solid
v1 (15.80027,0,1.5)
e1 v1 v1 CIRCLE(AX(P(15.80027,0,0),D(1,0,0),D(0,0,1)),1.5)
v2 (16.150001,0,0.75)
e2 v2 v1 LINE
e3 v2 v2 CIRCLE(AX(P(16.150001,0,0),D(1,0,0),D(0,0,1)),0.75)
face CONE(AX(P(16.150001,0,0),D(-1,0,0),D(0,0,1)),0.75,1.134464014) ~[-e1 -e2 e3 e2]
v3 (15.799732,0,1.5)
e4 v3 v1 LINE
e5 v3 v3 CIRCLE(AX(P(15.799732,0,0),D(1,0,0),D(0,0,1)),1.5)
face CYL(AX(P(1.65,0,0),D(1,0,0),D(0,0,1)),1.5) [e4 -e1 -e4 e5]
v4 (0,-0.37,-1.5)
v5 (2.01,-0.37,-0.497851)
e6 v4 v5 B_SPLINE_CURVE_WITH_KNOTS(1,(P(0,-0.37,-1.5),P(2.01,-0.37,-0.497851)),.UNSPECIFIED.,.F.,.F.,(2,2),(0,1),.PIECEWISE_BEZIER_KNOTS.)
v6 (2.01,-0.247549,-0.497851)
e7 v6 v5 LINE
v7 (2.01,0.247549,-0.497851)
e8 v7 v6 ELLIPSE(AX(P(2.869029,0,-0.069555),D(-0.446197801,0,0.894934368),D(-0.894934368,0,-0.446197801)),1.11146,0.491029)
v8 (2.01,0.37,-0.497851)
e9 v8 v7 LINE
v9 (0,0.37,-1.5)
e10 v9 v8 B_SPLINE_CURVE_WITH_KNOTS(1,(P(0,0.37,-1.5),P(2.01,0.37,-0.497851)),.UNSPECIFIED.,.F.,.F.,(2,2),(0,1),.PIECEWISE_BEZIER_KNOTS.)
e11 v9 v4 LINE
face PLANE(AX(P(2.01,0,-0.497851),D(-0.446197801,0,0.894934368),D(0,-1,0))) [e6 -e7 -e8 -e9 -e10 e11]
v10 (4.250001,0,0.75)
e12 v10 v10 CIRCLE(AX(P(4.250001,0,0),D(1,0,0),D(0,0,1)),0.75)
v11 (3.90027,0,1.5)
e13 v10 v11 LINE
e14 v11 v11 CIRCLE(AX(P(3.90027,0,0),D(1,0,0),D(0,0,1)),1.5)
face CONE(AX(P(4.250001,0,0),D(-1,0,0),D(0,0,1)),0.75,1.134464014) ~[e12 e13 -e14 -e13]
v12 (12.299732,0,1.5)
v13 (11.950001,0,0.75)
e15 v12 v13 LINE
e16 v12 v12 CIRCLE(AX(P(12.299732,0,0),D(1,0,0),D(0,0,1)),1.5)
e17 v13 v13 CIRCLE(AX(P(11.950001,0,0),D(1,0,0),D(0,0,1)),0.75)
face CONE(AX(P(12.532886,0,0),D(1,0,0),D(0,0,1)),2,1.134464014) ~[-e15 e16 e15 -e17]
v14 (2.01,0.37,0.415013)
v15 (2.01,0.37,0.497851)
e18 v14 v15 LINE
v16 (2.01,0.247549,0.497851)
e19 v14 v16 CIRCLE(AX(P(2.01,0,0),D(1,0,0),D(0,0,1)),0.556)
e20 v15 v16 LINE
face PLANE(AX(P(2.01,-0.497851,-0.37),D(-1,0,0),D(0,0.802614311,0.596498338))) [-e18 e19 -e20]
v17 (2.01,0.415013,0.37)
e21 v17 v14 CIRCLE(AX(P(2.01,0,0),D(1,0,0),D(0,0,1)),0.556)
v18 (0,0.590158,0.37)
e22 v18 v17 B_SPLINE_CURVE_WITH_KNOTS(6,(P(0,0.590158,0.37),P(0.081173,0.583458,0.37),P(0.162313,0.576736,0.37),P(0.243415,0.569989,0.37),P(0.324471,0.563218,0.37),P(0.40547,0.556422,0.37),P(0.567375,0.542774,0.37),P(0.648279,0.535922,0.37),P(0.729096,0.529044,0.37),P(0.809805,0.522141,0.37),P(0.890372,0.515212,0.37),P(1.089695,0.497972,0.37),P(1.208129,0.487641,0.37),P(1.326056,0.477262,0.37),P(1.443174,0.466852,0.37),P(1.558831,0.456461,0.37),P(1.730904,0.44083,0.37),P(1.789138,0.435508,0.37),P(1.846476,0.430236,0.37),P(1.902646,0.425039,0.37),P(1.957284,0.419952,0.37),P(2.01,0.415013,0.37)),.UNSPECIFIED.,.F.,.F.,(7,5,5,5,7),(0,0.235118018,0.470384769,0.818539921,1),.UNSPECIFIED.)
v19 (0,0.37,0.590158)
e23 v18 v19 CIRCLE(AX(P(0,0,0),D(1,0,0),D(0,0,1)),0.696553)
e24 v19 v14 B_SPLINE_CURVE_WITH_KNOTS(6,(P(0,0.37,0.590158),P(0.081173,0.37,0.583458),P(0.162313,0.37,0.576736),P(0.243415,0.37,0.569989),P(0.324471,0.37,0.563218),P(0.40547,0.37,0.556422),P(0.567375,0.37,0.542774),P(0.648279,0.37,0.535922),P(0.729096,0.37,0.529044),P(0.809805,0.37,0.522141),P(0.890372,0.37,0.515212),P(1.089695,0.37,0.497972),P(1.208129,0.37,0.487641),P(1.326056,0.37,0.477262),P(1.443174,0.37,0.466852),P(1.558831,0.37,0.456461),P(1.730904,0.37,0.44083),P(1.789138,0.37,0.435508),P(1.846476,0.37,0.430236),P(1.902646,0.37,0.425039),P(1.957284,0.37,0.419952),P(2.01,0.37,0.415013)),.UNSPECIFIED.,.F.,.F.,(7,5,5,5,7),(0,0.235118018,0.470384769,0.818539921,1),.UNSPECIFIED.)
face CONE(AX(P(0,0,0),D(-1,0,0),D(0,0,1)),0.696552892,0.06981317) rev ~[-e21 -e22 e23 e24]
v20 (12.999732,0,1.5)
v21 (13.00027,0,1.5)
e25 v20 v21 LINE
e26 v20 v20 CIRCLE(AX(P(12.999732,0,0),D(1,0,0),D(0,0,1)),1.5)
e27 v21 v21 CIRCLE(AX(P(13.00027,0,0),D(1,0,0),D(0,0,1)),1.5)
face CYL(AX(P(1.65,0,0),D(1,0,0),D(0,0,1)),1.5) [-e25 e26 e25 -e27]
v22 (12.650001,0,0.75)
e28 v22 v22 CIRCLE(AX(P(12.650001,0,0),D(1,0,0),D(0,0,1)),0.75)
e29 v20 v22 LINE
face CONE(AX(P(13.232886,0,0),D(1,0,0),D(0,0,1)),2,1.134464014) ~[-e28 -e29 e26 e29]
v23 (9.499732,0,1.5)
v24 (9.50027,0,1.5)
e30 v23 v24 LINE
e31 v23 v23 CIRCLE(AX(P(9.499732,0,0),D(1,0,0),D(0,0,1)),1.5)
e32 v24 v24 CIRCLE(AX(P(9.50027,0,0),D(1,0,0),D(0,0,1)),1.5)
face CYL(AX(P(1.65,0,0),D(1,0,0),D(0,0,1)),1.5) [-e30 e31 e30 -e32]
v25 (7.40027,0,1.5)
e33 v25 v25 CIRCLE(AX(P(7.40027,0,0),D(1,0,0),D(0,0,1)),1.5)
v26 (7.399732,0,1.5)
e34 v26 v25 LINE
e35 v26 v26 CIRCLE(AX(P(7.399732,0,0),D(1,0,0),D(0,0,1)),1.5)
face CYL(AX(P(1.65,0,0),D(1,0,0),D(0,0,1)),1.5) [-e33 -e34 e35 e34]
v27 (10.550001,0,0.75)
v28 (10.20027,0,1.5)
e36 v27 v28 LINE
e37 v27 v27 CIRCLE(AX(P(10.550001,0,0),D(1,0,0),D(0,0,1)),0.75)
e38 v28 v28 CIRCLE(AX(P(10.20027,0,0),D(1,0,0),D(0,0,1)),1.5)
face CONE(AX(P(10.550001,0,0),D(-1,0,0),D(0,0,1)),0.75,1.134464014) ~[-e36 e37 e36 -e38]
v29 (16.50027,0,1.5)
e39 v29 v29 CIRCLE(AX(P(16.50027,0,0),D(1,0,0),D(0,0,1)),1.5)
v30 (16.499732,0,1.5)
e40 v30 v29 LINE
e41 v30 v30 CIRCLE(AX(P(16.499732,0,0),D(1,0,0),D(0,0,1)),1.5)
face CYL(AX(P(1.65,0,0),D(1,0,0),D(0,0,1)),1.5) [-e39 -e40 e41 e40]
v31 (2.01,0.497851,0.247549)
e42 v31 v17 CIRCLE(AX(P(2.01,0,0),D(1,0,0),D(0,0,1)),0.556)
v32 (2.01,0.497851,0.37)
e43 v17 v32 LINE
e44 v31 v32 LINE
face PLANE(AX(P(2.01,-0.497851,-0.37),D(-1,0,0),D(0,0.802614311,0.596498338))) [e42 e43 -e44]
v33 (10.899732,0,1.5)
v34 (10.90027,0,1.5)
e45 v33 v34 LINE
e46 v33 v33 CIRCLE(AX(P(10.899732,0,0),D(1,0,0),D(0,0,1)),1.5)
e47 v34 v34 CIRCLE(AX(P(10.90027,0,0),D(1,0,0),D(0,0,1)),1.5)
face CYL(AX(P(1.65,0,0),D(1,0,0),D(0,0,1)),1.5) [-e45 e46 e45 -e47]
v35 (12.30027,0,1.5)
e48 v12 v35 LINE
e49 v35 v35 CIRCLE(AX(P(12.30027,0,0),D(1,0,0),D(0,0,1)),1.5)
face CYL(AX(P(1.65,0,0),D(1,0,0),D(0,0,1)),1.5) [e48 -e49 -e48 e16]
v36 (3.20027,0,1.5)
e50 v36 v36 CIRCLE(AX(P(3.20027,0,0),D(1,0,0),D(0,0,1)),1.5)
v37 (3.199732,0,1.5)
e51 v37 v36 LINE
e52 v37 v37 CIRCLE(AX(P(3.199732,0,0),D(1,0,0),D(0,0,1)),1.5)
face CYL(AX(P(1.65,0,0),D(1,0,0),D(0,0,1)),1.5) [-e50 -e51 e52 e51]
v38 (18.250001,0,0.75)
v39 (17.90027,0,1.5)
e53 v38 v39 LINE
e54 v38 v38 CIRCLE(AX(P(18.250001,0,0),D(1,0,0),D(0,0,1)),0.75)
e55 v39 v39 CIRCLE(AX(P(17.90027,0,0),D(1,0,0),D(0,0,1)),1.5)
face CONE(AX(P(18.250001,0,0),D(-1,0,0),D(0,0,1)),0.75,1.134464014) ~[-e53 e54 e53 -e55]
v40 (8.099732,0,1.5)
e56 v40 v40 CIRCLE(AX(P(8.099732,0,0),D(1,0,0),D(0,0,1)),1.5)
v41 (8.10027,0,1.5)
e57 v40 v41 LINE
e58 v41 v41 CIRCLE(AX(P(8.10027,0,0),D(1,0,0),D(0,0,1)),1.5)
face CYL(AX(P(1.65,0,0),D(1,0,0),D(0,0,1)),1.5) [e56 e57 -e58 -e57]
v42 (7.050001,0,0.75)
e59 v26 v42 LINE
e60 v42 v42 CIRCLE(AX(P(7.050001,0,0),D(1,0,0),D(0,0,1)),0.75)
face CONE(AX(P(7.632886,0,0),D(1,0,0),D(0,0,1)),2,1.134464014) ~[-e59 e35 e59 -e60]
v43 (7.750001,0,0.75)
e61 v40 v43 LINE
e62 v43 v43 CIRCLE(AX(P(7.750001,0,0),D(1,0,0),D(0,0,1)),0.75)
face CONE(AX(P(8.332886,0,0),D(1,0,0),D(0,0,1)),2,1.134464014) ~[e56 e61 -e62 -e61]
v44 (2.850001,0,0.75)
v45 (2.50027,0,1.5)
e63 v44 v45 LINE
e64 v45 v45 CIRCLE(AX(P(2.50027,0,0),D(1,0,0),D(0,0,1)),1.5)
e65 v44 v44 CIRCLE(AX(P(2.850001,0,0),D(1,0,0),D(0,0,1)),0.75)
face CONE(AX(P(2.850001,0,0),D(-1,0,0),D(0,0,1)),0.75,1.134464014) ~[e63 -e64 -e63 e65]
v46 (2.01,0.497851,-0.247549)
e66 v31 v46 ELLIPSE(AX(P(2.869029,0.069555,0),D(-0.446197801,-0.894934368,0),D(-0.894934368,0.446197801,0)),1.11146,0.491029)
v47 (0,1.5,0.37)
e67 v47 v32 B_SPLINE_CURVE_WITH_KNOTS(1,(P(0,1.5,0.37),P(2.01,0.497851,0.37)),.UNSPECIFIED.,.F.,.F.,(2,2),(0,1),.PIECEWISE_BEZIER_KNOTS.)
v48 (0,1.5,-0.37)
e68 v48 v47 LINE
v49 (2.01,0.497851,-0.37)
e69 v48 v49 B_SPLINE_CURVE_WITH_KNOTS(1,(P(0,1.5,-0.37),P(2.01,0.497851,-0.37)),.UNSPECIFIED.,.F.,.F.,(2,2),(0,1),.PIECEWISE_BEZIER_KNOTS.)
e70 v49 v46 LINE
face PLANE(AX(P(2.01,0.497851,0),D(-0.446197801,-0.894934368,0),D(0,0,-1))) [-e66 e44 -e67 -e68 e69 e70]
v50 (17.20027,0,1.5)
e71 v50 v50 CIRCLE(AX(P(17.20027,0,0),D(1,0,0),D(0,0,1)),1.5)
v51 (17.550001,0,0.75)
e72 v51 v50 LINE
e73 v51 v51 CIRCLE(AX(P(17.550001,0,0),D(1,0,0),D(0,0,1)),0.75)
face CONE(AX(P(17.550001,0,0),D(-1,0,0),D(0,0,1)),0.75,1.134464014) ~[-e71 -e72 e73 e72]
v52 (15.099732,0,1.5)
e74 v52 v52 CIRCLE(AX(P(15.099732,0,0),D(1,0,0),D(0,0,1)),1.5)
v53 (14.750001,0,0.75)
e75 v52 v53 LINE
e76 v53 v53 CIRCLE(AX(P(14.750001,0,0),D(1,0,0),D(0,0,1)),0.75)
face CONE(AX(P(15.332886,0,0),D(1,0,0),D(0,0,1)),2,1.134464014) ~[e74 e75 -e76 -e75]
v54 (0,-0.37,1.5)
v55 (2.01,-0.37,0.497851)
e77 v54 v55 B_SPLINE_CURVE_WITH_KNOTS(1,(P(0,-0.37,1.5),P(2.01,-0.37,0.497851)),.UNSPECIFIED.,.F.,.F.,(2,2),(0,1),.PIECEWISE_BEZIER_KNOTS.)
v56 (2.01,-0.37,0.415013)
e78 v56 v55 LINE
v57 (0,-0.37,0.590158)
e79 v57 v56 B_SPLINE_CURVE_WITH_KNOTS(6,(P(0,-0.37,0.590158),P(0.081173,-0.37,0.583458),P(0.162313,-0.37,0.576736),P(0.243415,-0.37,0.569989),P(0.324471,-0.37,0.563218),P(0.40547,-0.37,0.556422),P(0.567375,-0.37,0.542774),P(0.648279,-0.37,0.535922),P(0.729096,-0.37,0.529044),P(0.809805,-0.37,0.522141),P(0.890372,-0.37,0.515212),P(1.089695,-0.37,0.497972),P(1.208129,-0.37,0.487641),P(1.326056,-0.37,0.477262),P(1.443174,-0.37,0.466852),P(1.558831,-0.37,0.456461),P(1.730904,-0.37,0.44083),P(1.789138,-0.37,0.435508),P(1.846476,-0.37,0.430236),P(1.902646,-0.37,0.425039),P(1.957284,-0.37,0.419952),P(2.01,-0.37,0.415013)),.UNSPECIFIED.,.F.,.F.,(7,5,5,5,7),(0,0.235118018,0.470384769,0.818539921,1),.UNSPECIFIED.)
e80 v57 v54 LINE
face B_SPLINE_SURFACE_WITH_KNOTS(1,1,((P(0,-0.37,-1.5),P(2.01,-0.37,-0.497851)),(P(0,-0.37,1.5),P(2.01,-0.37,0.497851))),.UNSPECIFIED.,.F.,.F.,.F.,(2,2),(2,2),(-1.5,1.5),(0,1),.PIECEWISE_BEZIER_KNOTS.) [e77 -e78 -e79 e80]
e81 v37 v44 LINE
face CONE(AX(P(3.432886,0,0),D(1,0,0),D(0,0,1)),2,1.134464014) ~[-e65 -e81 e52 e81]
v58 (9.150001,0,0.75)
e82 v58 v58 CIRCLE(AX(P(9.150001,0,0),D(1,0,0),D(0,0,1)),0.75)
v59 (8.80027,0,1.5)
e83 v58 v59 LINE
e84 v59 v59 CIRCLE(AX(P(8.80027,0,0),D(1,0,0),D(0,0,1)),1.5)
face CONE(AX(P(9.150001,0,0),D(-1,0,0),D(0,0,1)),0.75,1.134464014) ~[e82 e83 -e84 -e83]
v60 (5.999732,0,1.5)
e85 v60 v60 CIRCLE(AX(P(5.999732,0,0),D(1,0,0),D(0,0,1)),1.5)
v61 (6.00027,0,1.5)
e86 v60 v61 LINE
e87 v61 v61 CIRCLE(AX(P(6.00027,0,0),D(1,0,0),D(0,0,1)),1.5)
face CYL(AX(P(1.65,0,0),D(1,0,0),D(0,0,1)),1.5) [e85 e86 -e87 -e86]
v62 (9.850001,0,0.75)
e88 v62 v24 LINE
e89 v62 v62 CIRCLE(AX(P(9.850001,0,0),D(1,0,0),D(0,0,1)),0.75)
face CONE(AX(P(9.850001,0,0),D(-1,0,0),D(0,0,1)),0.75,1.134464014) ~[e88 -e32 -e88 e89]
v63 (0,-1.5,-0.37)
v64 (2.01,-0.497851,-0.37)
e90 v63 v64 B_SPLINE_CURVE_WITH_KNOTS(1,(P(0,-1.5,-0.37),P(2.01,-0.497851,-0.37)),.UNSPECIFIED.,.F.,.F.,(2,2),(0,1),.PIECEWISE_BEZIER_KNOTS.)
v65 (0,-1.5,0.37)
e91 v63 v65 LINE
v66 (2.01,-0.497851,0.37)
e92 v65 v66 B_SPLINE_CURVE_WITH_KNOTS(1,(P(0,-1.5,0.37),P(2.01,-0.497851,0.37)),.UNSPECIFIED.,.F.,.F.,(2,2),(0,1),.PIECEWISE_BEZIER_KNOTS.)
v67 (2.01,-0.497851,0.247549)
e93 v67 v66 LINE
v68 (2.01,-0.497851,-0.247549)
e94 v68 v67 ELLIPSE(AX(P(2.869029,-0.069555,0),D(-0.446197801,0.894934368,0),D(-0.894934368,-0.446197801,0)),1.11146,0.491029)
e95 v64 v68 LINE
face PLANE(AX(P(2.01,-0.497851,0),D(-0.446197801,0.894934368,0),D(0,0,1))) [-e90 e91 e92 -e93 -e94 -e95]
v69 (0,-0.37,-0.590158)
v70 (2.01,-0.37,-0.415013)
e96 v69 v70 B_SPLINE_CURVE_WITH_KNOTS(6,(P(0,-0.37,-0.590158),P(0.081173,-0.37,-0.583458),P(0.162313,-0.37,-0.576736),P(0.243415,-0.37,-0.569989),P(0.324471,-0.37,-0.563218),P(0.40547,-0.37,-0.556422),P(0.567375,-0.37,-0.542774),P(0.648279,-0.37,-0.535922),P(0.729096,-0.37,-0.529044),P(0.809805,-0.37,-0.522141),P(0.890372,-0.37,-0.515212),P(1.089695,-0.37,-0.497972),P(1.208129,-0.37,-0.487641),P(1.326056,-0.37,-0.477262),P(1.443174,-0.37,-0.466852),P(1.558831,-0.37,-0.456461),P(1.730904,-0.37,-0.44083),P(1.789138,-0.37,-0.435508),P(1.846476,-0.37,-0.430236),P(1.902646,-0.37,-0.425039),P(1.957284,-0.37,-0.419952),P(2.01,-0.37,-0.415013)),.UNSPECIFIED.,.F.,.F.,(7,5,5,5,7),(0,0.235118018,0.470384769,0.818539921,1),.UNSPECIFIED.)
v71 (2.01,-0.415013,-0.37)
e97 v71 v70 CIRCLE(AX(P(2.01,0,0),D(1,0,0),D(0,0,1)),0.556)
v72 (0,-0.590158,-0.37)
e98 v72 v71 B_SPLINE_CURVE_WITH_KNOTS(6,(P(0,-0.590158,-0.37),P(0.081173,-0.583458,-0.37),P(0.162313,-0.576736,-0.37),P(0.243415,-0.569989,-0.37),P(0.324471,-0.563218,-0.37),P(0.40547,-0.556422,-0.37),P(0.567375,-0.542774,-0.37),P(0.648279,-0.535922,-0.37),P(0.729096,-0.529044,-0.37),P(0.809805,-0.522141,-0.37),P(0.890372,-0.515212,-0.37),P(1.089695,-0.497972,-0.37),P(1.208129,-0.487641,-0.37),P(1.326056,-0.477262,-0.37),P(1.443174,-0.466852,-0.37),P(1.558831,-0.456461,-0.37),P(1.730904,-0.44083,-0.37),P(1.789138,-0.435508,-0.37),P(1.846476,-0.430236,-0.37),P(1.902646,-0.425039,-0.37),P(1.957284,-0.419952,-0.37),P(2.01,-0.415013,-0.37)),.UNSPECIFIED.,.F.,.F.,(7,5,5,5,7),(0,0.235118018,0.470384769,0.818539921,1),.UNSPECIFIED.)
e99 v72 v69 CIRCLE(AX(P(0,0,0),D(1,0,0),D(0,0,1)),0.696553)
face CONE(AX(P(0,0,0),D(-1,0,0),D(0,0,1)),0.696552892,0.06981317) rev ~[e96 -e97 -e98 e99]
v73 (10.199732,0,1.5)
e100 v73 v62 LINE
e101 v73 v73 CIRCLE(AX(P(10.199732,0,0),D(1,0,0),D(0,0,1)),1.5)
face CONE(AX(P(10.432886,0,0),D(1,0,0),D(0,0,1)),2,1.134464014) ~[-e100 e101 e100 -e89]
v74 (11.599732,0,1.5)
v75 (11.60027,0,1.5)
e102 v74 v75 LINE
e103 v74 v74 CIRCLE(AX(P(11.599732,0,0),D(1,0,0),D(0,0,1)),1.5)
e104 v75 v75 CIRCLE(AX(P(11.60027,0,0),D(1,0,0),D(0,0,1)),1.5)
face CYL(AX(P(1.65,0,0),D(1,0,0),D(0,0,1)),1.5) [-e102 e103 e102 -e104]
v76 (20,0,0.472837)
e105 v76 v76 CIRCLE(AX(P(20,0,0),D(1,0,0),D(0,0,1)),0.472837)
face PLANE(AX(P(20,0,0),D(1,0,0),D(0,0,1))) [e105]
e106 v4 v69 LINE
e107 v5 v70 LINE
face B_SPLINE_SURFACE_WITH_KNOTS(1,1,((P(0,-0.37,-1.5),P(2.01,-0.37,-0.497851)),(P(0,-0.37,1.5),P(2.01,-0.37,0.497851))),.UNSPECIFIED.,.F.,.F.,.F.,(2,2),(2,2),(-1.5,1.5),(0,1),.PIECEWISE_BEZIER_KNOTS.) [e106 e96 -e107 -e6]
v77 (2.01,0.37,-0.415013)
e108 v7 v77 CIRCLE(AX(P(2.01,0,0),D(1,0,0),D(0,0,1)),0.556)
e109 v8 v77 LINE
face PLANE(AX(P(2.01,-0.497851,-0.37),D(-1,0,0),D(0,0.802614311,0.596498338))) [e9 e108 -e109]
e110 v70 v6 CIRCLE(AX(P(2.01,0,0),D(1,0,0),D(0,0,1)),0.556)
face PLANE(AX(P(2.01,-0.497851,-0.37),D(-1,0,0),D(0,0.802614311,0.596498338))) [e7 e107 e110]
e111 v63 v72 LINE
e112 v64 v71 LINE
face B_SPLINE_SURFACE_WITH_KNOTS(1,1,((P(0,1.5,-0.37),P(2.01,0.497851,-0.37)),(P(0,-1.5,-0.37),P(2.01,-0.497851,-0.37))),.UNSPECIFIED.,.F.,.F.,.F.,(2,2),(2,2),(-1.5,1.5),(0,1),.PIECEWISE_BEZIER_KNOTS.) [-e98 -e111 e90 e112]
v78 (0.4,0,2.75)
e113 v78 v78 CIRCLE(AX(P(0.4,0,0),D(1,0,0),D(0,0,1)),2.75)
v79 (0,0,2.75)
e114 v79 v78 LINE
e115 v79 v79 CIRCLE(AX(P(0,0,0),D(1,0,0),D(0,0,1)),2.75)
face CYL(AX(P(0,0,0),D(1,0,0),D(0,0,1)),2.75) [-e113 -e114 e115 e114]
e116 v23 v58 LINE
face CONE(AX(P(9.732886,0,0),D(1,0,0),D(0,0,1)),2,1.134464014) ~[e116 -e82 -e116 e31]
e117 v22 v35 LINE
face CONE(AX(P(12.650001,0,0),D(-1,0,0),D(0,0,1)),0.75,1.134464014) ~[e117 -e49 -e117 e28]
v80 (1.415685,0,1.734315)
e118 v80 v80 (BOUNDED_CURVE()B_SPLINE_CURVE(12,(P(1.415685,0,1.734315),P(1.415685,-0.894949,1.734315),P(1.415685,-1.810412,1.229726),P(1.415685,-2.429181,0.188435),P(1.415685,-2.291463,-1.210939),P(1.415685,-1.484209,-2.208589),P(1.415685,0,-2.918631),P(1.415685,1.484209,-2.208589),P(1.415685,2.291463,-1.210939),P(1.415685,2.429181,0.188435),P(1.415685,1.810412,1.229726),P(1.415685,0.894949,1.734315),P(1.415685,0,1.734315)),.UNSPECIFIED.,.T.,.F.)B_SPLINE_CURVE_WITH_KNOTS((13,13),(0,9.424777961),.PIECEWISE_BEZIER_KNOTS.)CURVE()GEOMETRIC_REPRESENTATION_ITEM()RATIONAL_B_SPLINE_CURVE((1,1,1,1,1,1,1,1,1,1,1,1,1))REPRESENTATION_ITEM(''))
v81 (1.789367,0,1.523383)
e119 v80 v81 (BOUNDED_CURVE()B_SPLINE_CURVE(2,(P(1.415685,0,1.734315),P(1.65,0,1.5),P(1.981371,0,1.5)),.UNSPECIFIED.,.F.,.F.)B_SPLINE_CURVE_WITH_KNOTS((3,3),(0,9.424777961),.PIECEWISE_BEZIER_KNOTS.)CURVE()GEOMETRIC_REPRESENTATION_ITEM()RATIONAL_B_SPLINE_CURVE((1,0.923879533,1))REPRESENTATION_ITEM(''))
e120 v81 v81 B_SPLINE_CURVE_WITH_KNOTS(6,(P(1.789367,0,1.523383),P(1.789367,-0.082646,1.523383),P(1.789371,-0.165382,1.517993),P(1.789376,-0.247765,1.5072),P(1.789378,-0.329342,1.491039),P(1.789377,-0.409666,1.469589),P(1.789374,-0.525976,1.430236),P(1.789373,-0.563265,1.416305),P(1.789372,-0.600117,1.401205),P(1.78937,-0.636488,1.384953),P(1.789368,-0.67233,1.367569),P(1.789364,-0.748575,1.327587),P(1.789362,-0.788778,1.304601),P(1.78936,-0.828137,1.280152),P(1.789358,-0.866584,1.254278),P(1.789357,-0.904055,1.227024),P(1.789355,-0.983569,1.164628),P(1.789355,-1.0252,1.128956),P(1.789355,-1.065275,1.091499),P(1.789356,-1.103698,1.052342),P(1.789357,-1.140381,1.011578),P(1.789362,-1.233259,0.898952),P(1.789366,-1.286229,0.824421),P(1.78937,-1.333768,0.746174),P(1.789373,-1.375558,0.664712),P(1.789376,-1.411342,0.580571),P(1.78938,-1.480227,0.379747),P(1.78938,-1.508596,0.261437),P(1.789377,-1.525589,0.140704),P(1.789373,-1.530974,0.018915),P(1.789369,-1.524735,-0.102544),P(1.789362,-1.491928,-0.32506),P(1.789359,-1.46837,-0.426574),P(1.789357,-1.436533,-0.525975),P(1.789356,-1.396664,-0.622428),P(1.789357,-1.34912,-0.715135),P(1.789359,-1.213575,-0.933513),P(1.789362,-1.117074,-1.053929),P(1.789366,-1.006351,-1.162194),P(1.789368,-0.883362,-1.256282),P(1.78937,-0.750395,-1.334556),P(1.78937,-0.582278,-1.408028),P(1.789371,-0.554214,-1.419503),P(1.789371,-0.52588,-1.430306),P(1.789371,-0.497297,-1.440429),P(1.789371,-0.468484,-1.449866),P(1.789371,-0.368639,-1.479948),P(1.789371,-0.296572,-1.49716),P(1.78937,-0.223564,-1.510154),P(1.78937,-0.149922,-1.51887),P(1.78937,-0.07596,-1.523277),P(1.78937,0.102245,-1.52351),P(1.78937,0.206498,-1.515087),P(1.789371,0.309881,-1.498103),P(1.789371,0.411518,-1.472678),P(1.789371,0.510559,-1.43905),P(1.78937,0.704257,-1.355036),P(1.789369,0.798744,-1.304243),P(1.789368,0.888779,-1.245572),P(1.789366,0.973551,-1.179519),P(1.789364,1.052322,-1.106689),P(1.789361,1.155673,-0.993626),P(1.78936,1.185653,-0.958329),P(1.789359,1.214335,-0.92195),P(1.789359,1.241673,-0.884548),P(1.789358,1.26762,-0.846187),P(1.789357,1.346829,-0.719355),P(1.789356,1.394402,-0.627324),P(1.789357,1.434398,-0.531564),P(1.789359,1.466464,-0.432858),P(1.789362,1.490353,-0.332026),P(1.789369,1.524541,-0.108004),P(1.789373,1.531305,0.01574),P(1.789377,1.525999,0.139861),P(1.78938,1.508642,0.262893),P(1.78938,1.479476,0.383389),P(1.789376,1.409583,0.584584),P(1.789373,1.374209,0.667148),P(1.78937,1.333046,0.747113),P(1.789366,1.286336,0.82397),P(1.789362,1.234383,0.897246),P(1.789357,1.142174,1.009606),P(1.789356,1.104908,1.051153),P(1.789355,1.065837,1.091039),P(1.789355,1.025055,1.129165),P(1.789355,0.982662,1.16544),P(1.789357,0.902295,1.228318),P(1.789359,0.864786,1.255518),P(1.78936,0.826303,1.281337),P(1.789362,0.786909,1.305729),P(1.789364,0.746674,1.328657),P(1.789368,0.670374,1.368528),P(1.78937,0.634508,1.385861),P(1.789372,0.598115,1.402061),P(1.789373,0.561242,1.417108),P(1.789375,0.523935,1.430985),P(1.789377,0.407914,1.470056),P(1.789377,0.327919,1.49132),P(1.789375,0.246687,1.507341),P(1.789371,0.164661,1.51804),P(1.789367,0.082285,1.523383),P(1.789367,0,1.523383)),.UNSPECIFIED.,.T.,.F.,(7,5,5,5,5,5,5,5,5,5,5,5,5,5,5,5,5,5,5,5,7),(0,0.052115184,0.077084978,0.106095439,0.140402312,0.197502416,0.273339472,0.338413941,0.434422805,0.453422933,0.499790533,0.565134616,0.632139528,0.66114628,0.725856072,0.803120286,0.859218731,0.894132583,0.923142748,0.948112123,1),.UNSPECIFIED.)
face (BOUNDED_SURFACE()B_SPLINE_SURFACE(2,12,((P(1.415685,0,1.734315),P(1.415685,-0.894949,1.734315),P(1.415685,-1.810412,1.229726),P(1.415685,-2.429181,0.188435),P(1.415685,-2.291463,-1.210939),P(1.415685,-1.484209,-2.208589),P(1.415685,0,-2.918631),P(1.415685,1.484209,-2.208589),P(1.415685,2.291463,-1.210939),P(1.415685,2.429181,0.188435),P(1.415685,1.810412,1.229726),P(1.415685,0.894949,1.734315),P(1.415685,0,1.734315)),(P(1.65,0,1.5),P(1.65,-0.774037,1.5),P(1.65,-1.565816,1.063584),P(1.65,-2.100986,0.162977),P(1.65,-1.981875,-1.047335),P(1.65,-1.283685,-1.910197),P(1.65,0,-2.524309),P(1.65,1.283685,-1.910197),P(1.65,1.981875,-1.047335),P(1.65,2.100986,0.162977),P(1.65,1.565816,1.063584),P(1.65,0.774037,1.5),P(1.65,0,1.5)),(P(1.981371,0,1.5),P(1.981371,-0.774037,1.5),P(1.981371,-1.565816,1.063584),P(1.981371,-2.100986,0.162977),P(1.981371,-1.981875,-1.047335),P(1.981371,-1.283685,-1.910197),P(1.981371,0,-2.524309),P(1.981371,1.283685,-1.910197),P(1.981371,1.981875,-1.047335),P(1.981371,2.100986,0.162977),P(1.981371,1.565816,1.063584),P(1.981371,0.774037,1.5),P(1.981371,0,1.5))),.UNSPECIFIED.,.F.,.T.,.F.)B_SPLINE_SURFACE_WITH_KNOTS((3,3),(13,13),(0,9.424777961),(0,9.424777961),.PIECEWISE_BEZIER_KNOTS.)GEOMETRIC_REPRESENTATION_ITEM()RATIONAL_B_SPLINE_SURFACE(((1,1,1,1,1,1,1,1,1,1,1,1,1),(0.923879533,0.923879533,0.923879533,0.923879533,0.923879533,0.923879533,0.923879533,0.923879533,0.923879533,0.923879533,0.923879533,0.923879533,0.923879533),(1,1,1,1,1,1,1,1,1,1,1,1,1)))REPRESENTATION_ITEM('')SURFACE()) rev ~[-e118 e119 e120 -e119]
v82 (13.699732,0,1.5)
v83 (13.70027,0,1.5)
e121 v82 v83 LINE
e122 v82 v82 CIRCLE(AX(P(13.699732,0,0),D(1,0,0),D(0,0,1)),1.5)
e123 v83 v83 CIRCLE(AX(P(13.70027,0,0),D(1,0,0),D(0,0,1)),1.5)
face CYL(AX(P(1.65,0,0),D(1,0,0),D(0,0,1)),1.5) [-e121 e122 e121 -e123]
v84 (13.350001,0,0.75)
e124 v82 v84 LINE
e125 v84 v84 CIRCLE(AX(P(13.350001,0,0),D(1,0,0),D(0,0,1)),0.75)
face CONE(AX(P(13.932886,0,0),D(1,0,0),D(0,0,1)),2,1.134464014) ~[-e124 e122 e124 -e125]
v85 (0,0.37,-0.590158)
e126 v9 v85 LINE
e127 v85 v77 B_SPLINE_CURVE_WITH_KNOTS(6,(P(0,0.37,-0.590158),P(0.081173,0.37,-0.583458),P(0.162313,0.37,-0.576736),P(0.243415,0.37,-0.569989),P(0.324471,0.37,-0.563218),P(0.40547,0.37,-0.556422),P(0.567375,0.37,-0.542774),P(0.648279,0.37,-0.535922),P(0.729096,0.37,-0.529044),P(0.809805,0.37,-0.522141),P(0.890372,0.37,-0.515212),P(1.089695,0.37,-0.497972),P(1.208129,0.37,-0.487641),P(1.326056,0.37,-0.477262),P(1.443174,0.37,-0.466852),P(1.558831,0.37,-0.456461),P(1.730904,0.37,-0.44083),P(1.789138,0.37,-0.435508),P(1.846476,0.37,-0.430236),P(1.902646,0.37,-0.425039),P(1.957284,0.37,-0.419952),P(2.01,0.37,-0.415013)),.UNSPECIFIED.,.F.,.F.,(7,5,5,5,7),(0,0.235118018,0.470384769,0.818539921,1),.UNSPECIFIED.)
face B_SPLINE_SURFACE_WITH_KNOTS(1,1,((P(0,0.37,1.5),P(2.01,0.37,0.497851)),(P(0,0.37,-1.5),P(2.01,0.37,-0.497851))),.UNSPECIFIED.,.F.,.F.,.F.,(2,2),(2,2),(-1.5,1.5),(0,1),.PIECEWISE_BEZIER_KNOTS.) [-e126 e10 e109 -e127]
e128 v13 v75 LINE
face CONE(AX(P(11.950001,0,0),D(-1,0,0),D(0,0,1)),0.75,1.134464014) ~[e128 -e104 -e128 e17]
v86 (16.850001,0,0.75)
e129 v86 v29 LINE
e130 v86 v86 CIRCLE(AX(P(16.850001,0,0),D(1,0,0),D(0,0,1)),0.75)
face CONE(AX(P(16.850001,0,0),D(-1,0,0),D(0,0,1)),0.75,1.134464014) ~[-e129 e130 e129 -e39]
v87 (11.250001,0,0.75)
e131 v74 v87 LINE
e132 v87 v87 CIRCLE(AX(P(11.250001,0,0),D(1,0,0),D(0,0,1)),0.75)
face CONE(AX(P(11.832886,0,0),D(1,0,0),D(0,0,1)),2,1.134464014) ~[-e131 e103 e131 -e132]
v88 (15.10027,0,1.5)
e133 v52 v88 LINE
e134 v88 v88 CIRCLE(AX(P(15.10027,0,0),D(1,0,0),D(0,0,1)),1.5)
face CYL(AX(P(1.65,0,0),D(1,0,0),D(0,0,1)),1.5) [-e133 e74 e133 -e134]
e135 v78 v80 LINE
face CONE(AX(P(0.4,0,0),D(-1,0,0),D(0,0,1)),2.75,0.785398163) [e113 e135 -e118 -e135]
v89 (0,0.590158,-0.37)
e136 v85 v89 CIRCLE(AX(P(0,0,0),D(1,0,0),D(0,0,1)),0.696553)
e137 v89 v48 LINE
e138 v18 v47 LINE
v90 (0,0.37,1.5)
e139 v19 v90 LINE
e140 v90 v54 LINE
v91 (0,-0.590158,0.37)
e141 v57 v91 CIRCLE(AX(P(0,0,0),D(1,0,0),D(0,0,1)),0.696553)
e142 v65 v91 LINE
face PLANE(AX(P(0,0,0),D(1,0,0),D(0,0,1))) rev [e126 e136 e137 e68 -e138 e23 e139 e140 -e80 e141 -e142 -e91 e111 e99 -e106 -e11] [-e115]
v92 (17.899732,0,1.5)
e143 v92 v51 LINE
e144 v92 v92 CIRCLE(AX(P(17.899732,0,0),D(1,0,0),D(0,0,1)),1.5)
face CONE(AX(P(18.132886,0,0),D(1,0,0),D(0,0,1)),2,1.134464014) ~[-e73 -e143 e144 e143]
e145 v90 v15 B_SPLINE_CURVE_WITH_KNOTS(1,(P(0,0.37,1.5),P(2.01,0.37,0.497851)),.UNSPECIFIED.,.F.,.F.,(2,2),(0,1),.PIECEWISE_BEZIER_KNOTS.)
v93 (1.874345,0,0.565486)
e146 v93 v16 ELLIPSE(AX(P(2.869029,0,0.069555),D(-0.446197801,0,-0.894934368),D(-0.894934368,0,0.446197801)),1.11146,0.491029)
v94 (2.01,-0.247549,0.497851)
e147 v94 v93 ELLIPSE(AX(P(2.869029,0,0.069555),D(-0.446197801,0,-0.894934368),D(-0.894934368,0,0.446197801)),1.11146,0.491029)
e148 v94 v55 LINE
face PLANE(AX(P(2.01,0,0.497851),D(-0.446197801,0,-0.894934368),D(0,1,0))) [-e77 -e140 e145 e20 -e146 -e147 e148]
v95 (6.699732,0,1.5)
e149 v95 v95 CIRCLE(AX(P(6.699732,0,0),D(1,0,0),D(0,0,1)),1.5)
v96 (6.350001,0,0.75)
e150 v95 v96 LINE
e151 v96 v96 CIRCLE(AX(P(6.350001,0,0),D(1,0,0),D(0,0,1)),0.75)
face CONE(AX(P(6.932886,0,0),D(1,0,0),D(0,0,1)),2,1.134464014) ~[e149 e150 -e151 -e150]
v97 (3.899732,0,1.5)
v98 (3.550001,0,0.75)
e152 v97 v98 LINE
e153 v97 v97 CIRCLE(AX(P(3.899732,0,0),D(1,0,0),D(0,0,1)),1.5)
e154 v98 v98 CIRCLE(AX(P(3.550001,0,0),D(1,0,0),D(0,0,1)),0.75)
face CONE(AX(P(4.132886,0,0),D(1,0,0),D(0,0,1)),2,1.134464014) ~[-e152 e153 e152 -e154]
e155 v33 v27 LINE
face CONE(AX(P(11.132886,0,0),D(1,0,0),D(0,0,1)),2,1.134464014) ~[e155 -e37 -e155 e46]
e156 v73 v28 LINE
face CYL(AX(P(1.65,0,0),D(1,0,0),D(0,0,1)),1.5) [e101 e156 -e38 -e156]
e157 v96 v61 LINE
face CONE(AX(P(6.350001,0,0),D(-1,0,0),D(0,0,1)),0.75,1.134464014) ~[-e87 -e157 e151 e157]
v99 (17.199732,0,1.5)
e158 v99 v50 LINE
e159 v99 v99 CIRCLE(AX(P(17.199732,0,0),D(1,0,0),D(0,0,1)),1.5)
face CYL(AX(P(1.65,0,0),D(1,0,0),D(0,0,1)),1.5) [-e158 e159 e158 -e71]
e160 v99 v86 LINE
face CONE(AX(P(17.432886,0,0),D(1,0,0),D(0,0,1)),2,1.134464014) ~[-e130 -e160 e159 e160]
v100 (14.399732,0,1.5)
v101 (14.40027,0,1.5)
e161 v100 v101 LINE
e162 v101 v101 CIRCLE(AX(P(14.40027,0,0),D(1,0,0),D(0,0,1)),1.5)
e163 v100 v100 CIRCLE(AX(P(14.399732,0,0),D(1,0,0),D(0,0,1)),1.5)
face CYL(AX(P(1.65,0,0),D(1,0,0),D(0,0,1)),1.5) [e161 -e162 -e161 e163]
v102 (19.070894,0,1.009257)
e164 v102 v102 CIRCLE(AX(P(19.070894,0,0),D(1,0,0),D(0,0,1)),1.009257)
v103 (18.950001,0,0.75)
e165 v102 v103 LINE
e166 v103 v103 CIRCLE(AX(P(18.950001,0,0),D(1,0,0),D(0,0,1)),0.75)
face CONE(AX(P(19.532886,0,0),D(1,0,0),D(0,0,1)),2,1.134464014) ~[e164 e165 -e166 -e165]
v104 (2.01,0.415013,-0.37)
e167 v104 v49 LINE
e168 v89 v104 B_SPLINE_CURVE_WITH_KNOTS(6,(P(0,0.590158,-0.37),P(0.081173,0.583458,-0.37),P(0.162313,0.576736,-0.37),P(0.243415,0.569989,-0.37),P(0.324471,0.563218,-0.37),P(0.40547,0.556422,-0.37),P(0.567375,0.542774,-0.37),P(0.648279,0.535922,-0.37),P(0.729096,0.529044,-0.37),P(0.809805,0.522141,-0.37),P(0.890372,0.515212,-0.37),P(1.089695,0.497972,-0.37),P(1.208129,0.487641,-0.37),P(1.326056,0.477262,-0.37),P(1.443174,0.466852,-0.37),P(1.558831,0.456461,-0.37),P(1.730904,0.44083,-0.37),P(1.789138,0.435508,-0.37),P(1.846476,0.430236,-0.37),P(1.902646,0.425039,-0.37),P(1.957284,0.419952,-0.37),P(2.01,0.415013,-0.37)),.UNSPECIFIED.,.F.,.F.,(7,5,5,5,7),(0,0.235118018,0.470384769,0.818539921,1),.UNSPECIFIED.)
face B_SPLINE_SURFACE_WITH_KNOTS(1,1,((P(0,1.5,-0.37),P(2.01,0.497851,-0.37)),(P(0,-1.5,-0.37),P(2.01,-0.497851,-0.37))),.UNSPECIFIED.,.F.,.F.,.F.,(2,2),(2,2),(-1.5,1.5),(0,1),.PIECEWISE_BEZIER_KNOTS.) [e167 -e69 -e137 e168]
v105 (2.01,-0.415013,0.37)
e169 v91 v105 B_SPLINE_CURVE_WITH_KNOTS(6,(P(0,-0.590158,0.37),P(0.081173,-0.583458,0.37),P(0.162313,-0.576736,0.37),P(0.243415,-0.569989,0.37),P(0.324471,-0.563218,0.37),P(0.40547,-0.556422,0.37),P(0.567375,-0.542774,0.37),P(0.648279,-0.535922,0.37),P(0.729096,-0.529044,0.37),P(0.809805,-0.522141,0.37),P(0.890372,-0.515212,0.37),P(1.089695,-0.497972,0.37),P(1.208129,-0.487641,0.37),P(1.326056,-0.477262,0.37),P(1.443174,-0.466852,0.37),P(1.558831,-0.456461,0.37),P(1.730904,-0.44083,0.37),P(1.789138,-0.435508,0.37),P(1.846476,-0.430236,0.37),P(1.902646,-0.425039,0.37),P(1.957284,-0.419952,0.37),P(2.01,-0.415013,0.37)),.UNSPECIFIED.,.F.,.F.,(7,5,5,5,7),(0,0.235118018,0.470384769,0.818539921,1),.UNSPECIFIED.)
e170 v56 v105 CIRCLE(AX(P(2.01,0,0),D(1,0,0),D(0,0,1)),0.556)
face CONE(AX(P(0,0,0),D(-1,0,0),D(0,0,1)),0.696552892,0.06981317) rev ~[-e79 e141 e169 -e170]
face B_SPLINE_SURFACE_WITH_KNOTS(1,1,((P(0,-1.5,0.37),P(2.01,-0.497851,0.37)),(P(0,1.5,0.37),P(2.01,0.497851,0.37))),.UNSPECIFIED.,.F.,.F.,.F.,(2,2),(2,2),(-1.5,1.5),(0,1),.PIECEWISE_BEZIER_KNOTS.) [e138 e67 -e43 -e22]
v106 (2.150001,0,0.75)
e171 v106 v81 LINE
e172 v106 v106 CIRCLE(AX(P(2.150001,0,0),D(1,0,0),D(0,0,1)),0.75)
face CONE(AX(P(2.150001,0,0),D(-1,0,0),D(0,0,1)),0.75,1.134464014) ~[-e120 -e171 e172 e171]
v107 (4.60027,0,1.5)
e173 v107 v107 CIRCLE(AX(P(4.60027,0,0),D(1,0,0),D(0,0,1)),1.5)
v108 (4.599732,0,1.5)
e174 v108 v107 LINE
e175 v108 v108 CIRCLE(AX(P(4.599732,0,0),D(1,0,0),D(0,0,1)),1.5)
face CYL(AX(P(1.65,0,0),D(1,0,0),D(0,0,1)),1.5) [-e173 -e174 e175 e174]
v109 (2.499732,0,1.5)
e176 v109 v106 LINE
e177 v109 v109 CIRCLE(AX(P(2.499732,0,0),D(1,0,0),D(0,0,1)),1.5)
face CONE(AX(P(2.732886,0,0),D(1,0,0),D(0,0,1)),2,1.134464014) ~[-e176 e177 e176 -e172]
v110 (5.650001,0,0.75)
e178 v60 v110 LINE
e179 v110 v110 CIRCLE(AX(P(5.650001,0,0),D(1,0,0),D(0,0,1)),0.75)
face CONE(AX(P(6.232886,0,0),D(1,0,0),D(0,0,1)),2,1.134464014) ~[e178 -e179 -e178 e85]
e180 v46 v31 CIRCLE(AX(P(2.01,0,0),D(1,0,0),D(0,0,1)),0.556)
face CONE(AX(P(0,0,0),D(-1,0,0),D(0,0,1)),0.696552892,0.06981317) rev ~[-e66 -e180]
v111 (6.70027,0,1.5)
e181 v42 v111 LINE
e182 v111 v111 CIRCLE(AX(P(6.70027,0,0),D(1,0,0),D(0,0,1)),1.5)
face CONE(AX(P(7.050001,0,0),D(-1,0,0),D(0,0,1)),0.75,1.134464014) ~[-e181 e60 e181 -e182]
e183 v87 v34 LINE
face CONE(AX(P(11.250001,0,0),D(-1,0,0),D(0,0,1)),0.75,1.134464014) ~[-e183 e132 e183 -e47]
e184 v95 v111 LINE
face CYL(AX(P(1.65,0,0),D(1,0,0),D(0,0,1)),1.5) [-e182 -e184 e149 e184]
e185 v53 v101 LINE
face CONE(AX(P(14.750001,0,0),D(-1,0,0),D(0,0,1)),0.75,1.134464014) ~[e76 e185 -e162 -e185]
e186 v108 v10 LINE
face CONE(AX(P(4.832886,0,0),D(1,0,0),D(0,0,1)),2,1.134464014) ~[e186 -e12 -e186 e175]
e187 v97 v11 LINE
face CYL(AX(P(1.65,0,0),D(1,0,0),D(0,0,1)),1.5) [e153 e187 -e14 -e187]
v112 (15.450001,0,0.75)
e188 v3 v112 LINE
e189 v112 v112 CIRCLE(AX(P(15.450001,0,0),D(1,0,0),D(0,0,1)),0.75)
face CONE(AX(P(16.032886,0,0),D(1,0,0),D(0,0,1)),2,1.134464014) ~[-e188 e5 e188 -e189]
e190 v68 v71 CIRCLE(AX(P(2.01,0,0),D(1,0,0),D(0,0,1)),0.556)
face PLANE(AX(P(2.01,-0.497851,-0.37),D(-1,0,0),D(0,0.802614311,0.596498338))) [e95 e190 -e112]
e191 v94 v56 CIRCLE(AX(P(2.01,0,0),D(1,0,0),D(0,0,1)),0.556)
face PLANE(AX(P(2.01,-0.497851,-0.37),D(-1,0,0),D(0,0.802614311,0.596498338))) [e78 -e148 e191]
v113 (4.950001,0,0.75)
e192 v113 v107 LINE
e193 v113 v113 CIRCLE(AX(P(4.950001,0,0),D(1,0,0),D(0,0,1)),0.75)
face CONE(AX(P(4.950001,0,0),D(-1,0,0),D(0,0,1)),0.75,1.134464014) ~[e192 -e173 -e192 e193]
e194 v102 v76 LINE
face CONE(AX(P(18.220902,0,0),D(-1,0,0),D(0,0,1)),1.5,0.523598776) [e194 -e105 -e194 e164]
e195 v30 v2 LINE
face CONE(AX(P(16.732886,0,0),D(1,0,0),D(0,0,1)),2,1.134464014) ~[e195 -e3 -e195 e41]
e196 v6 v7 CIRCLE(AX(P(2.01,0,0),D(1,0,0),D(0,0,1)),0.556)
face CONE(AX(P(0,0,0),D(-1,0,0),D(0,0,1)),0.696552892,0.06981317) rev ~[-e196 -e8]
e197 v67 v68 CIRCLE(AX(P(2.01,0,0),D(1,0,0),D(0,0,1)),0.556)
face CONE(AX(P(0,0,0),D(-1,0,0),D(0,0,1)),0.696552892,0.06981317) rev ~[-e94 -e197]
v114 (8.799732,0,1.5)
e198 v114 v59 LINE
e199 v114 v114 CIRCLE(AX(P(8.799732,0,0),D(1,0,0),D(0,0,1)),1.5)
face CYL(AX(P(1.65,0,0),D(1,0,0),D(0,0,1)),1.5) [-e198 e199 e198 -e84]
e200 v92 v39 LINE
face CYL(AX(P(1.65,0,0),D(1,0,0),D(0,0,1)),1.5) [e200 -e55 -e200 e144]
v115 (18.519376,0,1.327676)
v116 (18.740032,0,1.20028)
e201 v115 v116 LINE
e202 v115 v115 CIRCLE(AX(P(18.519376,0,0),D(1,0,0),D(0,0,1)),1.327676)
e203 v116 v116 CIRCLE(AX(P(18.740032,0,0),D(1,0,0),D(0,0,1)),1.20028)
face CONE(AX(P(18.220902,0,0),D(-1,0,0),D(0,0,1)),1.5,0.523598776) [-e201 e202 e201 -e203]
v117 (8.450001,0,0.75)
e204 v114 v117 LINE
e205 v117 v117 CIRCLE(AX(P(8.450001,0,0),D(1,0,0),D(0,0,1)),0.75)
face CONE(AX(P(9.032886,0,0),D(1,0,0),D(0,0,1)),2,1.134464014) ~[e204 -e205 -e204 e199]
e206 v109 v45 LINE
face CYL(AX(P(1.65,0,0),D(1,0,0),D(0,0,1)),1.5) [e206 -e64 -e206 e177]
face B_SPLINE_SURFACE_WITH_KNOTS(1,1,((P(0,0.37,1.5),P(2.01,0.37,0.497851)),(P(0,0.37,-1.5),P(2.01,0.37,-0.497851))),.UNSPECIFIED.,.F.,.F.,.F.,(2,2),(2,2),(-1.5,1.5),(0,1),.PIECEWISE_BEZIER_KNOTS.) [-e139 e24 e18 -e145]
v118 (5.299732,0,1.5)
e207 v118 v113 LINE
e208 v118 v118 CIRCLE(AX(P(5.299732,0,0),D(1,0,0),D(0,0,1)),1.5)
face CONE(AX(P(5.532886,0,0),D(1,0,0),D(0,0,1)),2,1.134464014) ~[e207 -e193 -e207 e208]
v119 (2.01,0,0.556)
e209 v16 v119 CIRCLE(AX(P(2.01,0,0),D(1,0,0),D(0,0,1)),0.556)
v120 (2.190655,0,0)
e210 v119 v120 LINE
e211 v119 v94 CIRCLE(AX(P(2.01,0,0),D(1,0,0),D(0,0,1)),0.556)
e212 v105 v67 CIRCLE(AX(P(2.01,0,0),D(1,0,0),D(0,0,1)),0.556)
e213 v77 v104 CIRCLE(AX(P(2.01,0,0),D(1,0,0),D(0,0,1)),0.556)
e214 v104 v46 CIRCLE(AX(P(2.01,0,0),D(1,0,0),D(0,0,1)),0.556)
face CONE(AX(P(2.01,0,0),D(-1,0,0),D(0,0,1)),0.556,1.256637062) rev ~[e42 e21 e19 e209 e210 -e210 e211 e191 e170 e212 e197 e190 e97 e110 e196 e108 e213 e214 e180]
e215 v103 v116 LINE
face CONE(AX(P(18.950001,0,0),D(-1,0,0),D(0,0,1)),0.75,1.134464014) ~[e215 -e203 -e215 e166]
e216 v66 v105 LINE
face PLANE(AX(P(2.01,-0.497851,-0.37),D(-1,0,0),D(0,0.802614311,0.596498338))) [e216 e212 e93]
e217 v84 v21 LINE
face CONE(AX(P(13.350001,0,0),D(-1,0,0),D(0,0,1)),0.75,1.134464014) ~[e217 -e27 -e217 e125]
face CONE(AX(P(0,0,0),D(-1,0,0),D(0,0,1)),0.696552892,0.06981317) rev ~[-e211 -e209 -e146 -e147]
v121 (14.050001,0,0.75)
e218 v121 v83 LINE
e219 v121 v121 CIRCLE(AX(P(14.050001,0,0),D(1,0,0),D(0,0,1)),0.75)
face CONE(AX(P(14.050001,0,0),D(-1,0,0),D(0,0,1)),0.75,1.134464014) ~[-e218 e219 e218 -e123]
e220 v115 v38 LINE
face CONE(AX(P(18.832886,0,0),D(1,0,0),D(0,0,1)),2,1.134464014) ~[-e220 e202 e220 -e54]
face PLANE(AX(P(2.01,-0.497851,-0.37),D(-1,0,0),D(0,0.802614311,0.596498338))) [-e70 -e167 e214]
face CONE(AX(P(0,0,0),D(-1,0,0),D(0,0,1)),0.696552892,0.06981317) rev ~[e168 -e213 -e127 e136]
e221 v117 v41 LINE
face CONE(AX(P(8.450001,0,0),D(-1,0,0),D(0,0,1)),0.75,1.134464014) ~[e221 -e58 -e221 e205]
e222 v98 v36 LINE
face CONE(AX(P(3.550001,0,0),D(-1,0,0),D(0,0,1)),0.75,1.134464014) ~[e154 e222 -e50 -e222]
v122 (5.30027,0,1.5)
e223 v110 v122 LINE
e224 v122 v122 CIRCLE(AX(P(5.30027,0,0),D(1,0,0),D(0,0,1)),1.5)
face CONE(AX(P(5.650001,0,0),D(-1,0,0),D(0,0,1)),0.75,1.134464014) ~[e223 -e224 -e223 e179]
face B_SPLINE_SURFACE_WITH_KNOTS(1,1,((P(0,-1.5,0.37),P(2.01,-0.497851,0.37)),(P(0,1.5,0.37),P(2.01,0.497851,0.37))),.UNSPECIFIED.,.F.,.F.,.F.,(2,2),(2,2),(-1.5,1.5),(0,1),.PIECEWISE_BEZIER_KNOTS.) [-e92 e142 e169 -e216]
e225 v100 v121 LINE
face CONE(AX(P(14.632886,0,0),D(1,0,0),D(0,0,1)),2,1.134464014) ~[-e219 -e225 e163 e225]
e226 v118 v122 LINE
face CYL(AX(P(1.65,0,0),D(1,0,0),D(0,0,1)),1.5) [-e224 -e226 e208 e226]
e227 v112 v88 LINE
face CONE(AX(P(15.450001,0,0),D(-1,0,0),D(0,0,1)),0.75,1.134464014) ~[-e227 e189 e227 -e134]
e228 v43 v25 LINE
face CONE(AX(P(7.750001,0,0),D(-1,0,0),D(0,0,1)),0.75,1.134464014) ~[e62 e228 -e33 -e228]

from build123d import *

# Parameters (mm, degrees)
FILLET1_R       = 0.8
SKETCH3_W       = 0.74
SKETCH3_H       = 3
SKETCH4_W       = 0.74
SKETCH4_H       = 0.995702004
RECPAT_COUNT    = 2
RECPAT_ANGLE    = 90
THDSCHPAT_COUNT = 26
THDSCHPAT_PITCH = 0.7


with BuildPart() as part:
    # BodySke → Base-Revolve (revolve)
    with BuildSketch(Plane.XY, mode=Mode.PRIVATE) as base_revolve_sk:
        Polygon((0, 0), (0, 2.75), (0.4, 2.75), (1.65, 1.5), (18.220901985, 1.5), (20, 0.472837282), (20, 0), align=None)
    revolve(base_revolve_sk.sketch.rotate(Axis((-6.35, 0, 0), (1, 0, 0)), 90), axis=Axis((-6.35, 0, 0), (1, 0, 0)))  # turned: the seam where the file's is

    # Fillet1
    fillet1_edges = [part.edges().sort_by_distance(p)[0] for p in [
        (1.65, 0, -1.5),
    ]]
    fillet(fillet1_edges, radius=FILLET1_R)

    # Sketch3 → Recess section 0
    with BuildSketch(Plane.ZY):
        Rectangle(SKETCH3_W, SKETCH3_H)
    # Sketch4 → Recess section 1
    with BuildSketch(Plane.ZY.offset(-2.01)):
        Rectangle(SKETCH4_W, SKETCH4_H)
    recess = loft(mode=Mode.SUBTRACT)

    # RecPat: Recess ×2 about axis
    recpat_axis = Axis((0, 0, 0), (1, 0, 0))
    for i in range(1, RECPAT_COUNT):
        add(recess.rotate(recpat_axis, i * RECPAT_ANGLE / (RECPAT_COUNT - 1)), mode=Mode.SUBTRACT)

    # RecCorSke → RecessCore (revolve, cut)
    with BuildSketch(Plane.XY, mode=Mode.PRIVATE) as recesscore_sk:
        Polygon((0, 0), (0, 0.696552892), (2.01, 0.556), (2.190655351, 0), align=None)
    revolve(recesscore_sk.sketch.rotate(Axis((-3.175, 0, 0), (1, 0, 0)), 90), axis=Axis((-3.175, 0, 0), (1, 0, 0)), mode=Mode.SUBTRACT)  # turned: the seam where the file's is

    # ThdSchSke → ThreadSchematic (revolve, cut)
    with BuildSketch(Plane.XY, mode=Mode.PRIVATE) as threadschematic_sk:
        Polygon((2.150001, -0.75), (1.567116427, -2), (1.567116427, -3), (2.732885573, -3), (2.732885573, -2), align=None)
    threadschematic = revolve(threadschematic_sk.sketch.rotate(Axis((-3.175, 0, 0), (1, 0, 0)), 270), axis=Axis((-3.175, 0, 0), (1, 0, 0)), mode=Mode.SUBTRACT)  # turned: the seam where the file's is

    # ThdSchPat: ThreadSchematic ×26
    with Locations(*[(i * THDSCHPAT_PITCH, 0, 0) for i in range(1, THDSCHPAT_COUNT)]):
        add(threadschematic, mode=Mode.SUBTRACT)


solid = part.part
